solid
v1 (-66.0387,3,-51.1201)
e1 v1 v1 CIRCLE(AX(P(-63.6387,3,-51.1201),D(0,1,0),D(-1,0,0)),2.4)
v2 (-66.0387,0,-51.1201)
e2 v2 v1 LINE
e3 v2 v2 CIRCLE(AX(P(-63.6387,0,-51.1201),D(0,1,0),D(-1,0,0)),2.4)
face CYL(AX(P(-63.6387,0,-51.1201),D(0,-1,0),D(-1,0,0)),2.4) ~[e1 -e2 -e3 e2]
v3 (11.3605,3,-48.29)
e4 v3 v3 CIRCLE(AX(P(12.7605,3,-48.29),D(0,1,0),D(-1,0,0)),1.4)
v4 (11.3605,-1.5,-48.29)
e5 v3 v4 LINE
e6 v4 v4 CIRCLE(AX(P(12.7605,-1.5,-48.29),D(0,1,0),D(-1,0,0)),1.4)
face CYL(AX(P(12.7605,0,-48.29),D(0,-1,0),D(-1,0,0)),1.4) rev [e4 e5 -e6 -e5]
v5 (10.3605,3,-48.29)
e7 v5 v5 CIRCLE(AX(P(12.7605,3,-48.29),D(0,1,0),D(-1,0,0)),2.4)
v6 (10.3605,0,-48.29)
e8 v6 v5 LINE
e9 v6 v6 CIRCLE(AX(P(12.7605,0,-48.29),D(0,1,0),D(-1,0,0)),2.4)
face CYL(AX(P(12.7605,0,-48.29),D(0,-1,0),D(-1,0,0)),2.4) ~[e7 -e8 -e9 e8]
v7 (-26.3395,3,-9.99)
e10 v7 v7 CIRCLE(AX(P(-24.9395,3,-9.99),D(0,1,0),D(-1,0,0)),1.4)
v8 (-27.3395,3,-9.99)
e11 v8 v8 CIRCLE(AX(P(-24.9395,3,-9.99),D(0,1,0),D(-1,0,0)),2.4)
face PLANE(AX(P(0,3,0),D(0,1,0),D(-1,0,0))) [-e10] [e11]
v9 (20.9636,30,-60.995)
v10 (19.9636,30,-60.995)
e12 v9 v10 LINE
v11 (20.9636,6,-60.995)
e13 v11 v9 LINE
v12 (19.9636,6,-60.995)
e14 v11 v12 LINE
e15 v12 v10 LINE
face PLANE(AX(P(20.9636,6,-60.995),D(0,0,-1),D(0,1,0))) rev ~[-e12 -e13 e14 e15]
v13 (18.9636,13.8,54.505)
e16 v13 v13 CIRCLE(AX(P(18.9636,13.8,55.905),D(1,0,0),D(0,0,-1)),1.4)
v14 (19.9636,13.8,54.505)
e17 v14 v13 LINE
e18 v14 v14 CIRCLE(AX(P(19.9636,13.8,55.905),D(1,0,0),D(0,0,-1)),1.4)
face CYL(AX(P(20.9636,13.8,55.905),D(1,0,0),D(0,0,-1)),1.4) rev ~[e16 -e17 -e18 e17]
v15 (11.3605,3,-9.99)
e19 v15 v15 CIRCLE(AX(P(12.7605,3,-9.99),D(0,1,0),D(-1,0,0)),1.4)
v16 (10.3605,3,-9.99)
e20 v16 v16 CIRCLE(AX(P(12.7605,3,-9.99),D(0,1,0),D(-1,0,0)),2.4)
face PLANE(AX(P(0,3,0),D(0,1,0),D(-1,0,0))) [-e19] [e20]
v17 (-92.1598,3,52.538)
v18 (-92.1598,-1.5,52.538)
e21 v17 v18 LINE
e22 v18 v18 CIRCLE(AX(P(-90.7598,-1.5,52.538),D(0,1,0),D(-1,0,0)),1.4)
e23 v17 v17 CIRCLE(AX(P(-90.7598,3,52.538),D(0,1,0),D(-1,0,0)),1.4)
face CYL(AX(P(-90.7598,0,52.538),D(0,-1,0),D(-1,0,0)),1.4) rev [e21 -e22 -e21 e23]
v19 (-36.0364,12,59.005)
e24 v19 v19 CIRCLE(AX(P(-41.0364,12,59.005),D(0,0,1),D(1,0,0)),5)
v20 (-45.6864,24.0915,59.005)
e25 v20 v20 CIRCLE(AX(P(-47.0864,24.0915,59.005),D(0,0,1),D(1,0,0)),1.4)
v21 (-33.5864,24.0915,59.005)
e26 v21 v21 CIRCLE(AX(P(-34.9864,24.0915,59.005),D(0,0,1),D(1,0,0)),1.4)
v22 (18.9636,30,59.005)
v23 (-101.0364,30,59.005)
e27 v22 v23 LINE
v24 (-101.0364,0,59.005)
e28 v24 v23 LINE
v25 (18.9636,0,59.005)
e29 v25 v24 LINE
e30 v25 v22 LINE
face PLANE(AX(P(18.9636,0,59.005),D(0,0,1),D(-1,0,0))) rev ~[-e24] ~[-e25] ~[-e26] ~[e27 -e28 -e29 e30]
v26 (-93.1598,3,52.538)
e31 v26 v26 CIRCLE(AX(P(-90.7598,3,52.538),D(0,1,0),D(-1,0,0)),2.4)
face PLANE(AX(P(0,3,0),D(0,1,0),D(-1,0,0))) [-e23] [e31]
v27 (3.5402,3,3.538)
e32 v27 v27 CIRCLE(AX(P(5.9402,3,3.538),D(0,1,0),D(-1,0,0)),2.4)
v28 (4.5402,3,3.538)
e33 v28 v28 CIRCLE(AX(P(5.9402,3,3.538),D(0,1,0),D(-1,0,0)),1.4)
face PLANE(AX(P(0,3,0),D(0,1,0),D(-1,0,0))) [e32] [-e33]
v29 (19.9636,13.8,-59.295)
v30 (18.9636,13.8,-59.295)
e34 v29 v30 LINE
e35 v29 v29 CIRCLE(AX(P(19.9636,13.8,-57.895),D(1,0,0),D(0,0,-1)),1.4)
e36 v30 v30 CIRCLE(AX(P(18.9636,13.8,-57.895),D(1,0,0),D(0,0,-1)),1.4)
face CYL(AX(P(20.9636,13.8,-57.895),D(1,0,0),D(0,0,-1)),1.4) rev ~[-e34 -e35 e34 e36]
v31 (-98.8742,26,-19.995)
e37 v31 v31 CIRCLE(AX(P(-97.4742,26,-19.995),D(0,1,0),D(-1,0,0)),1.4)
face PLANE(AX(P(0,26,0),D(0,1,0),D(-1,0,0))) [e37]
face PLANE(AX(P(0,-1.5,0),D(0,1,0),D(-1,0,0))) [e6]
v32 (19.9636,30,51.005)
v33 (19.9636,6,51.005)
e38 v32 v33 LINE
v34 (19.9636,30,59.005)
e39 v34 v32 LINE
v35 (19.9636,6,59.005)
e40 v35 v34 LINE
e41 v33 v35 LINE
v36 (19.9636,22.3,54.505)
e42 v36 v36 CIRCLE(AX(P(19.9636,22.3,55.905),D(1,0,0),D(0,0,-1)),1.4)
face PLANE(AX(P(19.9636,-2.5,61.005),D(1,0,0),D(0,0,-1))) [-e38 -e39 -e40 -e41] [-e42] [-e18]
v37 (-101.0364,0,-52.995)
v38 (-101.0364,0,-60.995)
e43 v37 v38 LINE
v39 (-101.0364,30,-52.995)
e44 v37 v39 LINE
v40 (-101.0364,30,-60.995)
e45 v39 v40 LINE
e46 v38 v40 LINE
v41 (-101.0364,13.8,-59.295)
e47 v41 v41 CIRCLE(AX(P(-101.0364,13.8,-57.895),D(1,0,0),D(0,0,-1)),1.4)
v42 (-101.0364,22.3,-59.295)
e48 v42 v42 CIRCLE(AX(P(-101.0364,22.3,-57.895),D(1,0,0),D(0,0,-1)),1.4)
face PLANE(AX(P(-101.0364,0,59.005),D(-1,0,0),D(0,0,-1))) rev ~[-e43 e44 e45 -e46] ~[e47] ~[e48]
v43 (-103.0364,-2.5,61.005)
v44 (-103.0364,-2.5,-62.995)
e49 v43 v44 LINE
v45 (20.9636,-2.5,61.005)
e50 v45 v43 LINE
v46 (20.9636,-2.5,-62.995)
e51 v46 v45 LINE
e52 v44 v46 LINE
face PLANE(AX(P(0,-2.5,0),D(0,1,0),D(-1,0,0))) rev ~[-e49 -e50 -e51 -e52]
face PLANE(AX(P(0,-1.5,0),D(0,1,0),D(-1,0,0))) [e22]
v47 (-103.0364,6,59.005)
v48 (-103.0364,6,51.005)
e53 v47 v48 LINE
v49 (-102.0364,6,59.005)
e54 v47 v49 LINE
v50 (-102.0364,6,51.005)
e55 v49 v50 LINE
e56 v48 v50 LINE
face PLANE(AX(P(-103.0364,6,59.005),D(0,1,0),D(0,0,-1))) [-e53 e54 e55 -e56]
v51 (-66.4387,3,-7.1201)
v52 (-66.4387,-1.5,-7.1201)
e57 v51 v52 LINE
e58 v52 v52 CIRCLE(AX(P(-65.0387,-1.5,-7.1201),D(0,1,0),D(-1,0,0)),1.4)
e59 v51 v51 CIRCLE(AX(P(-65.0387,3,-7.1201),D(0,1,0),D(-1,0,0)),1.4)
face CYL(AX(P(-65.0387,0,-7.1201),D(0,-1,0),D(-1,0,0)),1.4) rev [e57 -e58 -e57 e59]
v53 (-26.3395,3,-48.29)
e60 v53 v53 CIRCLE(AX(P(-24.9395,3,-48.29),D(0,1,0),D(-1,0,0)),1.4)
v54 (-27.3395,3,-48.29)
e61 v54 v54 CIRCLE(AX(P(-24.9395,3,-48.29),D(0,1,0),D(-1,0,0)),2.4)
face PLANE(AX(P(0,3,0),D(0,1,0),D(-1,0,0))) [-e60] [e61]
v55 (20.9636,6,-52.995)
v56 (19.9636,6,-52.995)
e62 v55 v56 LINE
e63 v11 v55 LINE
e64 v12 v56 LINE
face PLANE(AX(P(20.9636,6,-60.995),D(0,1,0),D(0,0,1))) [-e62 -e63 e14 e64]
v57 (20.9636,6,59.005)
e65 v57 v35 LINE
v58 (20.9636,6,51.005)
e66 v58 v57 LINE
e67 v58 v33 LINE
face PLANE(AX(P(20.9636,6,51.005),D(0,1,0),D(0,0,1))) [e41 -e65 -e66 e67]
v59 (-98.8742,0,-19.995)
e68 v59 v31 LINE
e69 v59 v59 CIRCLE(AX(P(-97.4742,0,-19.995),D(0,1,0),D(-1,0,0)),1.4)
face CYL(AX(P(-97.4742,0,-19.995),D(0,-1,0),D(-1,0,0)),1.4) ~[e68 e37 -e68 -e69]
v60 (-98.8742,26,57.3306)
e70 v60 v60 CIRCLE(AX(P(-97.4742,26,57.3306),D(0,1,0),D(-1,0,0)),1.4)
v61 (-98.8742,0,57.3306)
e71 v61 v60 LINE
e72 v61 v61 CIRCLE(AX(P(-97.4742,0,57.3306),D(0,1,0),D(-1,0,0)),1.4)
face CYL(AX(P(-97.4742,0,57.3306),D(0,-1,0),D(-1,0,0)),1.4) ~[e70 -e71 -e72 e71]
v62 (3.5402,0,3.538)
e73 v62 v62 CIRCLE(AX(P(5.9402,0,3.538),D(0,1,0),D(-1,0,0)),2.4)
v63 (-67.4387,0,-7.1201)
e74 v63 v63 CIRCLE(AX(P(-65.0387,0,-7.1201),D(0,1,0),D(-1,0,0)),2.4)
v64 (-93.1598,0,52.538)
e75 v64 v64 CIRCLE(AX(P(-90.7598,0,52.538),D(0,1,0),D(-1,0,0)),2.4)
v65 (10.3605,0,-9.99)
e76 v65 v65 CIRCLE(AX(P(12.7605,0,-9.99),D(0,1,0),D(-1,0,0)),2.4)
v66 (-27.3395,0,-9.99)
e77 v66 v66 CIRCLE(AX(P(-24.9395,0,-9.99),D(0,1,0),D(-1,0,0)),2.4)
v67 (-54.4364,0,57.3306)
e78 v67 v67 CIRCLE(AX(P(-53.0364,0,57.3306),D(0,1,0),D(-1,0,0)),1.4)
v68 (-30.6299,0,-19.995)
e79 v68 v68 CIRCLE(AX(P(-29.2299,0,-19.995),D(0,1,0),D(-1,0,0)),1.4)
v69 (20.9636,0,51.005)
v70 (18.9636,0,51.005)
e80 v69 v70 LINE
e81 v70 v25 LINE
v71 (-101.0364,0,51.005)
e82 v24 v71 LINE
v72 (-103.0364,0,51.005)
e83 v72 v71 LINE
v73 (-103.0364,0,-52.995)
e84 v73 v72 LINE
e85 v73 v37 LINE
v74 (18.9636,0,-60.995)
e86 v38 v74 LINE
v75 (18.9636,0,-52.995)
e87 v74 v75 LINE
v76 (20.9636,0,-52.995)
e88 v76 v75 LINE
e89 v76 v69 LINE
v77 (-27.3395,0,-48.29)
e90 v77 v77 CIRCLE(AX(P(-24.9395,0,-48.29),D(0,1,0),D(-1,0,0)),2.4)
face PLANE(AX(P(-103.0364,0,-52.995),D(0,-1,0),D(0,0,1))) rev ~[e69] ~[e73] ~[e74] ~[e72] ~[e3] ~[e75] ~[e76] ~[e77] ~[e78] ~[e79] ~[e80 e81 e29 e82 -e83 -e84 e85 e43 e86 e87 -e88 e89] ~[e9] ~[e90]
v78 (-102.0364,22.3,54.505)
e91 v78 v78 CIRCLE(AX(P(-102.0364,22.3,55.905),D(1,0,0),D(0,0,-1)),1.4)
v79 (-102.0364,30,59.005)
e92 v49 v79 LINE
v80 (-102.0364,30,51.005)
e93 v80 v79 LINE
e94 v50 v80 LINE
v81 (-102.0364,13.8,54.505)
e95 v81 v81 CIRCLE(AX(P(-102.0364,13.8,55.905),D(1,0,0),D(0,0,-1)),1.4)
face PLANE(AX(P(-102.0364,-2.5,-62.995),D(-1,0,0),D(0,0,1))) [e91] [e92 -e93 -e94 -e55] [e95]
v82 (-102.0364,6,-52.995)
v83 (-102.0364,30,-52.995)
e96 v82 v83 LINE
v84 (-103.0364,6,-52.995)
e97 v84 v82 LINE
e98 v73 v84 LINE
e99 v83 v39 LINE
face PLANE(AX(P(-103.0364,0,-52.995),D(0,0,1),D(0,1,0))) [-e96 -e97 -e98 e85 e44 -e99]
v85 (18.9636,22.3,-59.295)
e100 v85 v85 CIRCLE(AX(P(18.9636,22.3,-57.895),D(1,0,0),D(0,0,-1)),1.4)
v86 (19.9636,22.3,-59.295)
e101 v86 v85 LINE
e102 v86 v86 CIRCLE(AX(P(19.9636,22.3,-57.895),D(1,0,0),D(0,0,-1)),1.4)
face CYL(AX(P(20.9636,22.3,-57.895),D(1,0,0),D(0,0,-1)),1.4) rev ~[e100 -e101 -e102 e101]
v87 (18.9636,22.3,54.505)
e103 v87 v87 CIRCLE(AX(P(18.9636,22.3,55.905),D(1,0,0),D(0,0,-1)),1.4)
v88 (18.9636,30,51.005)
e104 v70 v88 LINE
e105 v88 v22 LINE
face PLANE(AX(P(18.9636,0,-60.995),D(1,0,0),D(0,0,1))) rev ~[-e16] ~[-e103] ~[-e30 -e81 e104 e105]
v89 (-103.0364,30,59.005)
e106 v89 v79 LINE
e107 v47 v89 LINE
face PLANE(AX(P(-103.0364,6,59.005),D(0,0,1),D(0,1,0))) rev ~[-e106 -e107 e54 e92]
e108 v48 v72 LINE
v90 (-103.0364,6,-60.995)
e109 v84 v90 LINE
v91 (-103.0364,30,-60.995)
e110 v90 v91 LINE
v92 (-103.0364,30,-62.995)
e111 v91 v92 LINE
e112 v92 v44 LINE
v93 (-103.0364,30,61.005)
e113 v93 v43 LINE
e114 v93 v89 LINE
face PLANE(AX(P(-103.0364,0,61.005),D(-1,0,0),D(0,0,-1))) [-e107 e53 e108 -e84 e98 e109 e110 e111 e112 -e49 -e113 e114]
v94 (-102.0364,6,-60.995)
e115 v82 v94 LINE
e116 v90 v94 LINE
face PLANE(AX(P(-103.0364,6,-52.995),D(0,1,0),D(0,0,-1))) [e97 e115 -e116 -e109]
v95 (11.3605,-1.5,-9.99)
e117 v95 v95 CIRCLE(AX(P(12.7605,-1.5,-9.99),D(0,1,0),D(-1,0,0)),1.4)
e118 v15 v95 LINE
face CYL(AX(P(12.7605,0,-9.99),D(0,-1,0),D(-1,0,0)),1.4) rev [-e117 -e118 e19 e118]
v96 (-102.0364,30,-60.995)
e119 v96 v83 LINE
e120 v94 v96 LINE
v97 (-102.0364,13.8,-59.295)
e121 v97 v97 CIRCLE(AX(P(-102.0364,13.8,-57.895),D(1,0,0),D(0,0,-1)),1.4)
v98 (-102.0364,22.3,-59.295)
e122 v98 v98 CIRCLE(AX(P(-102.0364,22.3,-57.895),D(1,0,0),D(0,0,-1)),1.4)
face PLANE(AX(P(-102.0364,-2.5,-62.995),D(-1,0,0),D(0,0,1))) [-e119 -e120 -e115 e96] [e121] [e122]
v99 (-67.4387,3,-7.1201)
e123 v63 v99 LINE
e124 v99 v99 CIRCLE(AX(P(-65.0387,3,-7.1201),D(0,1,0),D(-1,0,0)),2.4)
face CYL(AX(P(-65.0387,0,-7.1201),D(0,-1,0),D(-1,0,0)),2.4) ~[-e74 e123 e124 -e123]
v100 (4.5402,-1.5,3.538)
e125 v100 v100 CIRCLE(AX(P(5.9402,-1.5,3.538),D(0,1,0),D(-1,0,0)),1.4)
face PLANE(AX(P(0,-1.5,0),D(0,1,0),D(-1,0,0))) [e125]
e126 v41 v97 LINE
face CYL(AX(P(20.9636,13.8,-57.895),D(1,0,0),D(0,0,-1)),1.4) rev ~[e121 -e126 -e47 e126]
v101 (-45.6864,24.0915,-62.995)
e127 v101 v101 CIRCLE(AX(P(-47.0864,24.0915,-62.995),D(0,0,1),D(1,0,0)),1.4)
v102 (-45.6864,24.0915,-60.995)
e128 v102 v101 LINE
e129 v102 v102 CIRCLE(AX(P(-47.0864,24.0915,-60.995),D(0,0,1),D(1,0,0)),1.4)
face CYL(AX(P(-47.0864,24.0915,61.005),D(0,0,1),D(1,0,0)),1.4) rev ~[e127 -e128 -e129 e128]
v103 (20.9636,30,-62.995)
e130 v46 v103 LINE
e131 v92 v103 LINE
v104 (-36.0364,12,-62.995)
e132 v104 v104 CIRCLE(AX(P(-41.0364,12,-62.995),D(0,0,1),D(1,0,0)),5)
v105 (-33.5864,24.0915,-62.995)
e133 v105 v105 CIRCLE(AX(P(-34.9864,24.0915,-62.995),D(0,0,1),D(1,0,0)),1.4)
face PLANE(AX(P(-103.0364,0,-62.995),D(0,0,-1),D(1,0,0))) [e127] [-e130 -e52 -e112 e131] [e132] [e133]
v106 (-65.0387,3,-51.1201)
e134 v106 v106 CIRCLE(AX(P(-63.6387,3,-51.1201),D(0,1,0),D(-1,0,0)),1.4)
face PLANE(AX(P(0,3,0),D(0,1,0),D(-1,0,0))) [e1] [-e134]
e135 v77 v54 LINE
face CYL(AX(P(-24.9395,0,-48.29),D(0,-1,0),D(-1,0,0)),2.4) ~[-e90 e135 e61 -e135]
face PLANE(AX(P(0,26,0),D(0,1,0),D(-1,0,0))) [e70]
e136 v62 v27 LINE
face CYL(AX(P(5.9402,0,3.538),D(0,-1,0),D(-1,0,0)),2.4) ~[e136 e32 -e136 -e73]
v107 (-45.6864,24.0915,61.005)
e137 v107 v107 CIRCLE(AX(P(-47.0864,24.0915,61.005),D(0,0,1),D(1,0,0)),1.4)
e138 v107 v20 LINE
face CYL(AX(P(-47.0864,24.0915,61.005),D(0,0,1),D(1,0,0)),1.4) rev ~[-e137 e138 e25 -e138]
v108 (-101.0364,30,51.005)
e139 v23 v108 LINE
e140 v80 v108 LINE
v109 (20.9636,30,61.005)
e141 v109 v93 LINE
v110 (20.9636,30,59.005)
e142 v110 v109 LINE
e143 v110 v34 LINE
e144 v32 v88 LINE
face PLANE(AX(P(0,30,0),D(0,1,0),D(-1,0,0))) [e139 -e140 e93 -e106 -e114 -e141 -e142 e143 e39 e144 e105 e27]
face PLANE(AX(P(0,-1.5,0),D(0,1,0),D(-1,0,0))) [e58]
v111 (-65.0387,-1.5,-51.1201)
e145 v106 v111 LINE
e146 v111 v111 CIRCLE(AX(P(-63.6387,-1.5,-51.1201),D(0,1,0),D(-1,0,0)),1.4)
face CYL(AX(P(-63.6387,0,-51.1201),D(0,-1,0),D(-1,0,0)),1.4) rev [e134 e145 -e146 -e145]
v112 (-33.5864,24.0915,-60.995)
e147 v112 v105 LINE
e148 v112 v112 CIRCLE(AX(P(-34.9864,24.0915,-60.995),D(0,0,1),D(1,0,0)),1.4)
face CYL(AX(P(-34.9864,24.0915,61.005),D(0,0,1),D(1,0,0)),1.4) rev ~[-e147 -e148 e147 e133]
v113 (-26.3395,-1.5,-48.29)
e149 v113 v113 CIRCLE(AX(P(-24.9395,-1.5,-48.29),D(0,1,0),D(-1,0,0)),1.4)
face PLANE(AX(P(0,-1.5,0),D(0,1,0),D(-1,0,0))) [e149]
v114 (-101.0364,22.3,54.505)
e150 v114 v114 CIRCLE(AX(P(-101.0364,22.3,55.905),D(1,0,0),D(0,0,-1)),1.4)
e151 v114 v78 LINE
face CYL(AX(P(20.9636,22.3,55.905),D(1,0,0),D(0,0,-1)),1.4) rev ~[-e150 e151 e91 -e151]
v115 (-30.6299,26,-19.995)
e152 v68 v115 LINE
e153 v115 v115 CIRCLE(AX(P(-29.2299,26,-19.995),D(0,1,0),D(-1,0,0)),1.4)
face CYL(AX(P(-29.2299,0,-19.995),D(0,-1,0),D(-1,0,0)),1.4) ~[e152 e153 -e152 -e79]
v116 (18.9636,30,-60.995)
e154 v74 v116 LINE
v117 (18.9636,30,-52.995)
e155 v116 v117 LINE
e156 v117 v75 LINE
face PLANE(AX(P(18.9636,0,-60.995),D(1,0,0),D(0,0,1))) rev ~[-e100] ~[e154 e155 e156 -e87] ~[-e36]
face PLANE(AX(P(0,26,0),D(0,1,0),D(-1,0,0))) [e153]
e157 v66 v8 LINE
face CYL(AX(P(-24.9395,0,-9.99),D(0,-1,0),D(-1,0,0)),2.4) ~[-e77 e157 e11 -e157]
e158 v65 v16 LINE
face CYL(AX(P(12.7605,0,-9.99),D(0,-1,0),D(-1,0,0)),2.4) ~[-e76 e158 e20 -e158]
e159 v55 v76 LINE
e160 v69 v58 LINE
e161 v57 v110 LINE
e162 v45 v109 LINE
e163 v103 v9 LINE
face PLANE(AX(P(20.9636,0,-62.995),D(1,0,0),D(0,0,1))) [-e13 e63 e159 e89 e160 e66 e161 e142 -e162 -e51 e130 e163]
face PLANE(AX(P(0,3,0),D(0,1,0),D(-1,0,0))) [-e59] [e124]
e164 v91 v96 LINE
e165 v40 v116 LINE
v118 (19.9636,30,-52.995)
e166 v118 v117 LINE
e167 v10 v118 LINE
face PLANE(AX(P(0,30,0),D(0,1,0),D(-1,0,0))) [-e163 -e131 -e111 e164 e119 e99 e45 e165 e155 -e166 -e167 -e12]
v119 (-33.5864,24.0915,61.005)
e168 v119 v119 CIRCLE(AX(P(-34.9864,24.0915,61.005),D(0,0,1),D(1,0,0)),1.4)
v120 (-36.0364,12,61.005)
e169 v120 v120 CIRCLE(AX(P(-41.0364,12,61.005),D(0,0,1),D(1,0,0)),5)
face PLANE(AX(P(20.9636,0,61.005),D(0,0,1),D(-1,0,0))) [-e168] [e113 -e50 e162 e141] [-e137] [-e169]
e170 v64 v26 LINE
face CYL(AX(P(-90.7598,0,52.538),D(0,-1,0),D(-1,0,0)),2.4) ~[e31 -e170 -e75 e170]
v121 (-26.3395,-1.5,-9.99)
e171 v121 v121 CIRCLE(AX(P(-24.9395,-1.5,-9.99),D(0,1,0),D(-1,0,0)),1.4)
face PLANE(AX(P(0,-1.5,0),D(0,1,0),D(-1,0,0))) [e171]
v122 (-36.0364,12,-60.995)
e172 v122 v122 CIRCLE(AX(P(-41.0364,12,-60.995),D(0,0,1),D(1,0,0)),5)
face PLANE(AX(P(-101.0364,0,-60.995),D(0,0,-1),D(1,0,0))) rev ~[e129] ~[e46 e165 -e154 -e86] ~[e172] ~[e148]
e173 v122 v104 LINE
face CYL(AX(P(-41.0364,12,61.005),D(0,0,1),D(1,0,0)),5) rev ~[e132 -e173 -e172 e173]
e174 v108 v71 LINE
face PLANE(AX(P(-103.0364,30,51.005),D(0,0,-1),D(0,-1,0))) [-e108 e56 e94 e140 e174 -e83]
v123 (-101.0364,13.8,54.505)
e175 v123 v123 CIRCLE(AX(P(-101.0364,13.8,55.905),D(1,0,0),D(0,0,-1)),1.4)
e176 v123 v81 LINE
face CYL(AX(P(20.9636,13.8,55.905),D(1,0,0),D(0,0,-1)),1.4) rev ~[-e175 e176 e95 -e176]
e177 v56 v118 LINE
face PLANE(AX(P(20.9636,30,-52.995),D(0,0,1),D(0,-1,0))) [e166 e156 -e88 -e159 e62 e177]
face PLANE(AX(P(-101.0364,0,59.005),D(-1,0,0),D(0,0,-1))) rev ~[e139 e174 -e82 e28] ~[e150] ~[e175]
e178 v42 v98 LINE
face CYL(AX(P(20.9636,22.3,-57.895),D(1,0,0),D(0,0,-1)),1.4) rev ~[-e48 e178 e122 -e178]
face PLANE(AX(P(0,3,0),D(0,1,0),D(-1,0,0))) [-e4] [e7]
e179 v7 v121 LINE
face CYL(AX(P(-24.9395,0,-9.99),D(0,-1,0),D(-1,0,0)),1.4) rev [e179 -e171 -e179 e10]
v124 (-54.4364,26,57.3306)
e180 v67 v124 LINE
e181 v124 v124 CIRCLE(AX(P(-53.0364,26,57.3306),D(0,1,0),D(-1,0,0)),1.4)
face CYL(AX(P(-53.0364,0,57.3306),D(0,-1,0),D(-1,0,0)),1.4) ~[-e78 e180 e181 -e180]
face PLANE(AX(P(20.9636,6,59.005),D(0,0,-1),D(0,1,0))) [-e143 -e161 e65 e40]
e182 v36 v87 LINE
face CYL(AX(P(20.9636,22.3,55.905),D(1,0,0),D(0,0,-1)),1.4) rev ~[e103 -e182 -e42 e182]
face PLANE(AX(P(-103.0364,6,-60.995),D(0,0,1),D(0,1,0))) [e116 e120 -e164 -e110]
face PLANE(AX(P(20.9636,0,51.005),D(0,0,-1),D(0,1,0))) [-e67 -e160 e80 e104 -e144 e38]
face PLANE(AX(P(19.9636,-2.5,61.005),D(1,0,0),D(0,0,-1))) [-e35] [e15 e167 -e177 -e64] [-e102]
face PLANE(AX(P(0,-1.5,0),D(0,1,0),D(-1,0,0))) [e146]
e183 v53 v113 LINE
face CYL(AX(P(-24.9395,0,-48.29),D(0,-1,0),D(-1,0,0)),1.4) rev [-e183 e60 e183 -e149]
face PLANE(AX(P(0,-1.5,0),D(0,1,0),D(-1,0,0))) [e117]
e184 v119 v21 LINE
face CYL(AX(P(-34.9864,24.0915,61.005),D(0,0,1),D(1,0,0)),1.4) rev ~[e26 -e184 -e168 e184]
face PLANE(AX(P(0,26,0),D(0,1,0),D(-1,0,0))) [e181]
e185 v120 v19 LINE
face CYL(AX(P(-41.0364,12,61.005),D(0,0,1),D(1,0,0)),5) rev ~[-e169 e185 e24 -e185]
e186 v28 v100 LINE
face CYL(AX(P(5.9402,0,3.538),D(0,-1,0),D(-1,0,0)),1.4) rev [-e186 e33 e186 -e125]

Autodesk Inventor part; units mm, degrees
ref_plane "YZ Plane" through (0, 0, 0) normal (1, 0, 0) x (0, 1, 0)
ref_plane "XZ Plane" through (0, 0, 0) normal (0, 1, 0) x (-1, 0, 0)
ref_plane "XY Plane" through (0, 0, 0) normal (0, 0, 1) x (1, 0, 0)
sketch "Sketch1" plane through (0, 0, 0) normal (0, 1, 0) x (-1, 0, 0)
  line L0 (101.0364, -60.995) -> (-18.9636, -60.995)
  line L1 (-18.9636, -60.995) -> (-18.9636, 59.005)
  line L2 (-18.9636, 59.005) -> (101.0364, 59.005)
  line L3 (101.0364, 59.005) -> (101.0364, -60.995)
  line L4 (93.1598, 54.938) -> (-8.3402, 54.938) construction
  line L5 (-8.3402, 54.938) -> (-8.3402, 1.138) construction
  line L6 (-8.3402, 1.138) -> (93.1598, 1.138) construction
  line L7 (93.1598, 1.138) -> (93.1598, 54.938) construction
  line L8 (92.9387, -1.5201) -> (30.3387, -1.5201) construction
  line L9 (30.3387, -1.5201) -> (30.3387, -58.6201) construction
  line L10 (30.3387, -58.6201) -> (92.9387, -58.6201) construction
  line L11 (92.9387, -58.6201) -> (92.9387, -1.5201) construction
  line L12 (27.7395, -7.49) -> (-15.5605, -7.49) construction
  line L13 (-15.5605, -7.49) -> (-15.5605, -50.79) construction
  line L14 (-15.5605, -50.79) -> (27.7395, -50.79) construction
  line L15 (27.7395, -50.79) -> (27.7395, -7.49) construction
  line L16 (65.0387, -49.7201) -> (62.2387, -49.7201) construction
  line L17 (62.2387, -49.7201) -> (62.2387, -52.5201) construction
  line L18 (62.2387, -52.5201) -> (65.0387, -52.5201) construction
  line L19 (65.0387, -52.5201) -> (65.0387, -49.7201) construction
  circle A0 centre (65.0387, -7.1201) radius 1.4
  circle A1 centre (63.6387, -51.1201) radius 1.4
  line L20 (92.1598, 53.938) -> (89.3598, 53.938) construction
  line L21 (89.3598, 53.938) -> (89.3598, 51.138) construction
  line L22 (89.3598, 51.138) -> (92.1598, 51.138) construction
  line L23 (92.1598, 51.138) -> (92.1598, 53.938) construction
  line L24 (-4.5402, 4.938) -> (-7.3402, 4.938) construction
  line L25 (-7.3402, 4.938) -> (-7.3402, 2.138) construction
  line L26 (-7.3402, 2.138) -> (-4.5402, 2.138) construction
  line L27 (-4.5402, 2.138) -> (-4.5402, 4.938) construction
  circle A2 centre (-5.9402, 3.538) radius 1.4
  circle A3 centre (90.7598, 52.538) radius 1.4
  line L28 (26.3395, -8.59) -> (23.5395, -8.59) construction
  line L29 (23.5395, -8.59) -> (23.5395, -11.39) construction
  line L30 (23.5395, -11.39) -> (26.3395, -11.39) construction
  line L31 (26.3395, -11.39) -> (26.3395, -8.59) construction
  line L32 (-11.3605, -46.89) -> (-14.1605, -46.89) construction
  line L33 (-14.1605, -46.89) -> (-14.1605, -49.69) construction
  line L34 (-14.1605, -49.69) -> (-11.3605, -49.69) construction
  line L35 (-11.3605, -49.69) -> (-11.3605, -46.89) construction
  line L36 (-11.3605, -8.59) -> (-14.1605, -8.59) construction
  line L37 (-14.1605, -8.59) -> (-14.1605, -11.39) construction
  line L38 (-14.1605, -11.39) -> (-11.3605, -11.39) construction
  line L39 (-11.3605, -11.39) -> (-11.3605, -8.59) construction
  line L40 (26.3395, -46.89) -> (23.5395, -46.89) construction
  line L41 (23.5395, -46.89) -> (23.5395, -49.69) construction
  line L42 (23.5395, -49.69) -> (26.3395, -49.69) construction
  line L43 (26.3395, -49.69) -> (26.3395, -46.89) construction
  circle A4 centre (24.9395, -9.99) radius 1.4
  circle A5 centre (24.9395, -48.29) radius 1.4
  circle A6 centre (-12.7605, -48.29) radius 1.4
  circle A7 centre (-12.7605, -9.99) radius 1.4
  circle A8 centre (24.9395, -9.99) radius 2.4
  circle A9 centre (24.9395, -48.29) radius 2.4
  circle A10 centre (-12.7605, -48.29) radius 2.4
  circle A11 centre (-12.7605, -9.99) radius 2.4
  circle A12 centre (63.6387, -51.1201) radius 2.4
  circle A13 centre (65.0387, -7.1201) radius 2.4
  circle A14 centre (-5.9402, 3.538) radius 2.4
  circle A15 centre (90.7598, 52.538) radius 2.4
  line L44 (-20.9636, 61.005) -> (103.0364, 61.005)
  line L45 (103.0364, 61.005) -> (103.0364, -62.995)
  line L46 (103.0364, -62.995) -> (-20.9636, -62.995)
  line L47 (-20.9636, -62.995) -> (-20.9636, 61.005)
  circle A16 centre (97.4742, -19.995) radius 1.4
  circle A17 centre (97.4742, 57.3306) radius 1.4
  circle A18 centre (53.0364, 57.3306) radius 1.4
  circle A19 centre (29.2299, -19.995) radius 1.4
  circle A20 centre (29.0364, 57.3306) radius 1.4
  dimension "d0" = 120
  dimension "d1" = 120
  dimension "d8" = 101.5
  dimension "d9" = 53.8
  dimension "d10" = 62.6
  dimension "d11" = 57.1
  dimension "d12" = 43.3
  dimension "d13" = 43.3
  dimension "d24" = 4.067
  dimension "d25" = 10.6234
  dimension "d27" = 10.205
  dimension "d28" = 3.403
  dimension "d29" = 2.3749
  dimension "d30" = 8.0977
  dimension "d39" = 2.8
  dimension "d40" = 2.8
  dimension "d41" = 6.1
  dimension "d42" = 2.8
  dimension "d43" = 2.8
  dimension "d44" = 2.8
  dimension "d45" = 2.8
  dimension "d46" = 1
  dimension "d47" = 1
  dimension "d48" = 1
  dimension "d49" = 1
  dimension "d50" = 2.8
  dimension "d51" = 2.8
  dimension "d52" = 2.8
  dimension "d53" = 2.8
  dimension "d54" = 2.8
  dimension "d55" = 2.8
  dimension "d56" = 2.8
  dimension "d57" = 2.8
  dimension "d58" = 1.4
  dimension "d59" = 1.1
  dimension "d60" = 1.4
  dimension "d61" = 1.1
  dimension "d62" = 1.1
  dimension "d63" = 1.4
  dimension "d64" = 1.1
  dimension "d65" = 1.4
  dimension "d66" = 4.8
  dimension "d67" = 4.8
  dimension "d68" = 4.8
  dimension "d69" = 4.8
  dimension "d70" = 4.8
  dimension "d71" = 4.8
  dimension "d72" = 4.8
  dimension "d73" = 4.8
  dimension "d74" = 124
  dimension "d75" = 124
  dimension "d76" = 2
  dimension "d77" = 2
  dimension "d144" = 44
  dimension "d145" = 2.8
  dimension "d146" = 41
  dimension "d148" = 2.8
  dimension "d149" = 2.8
  dimension "d150" = 50
  dimension "d154" = 2.8
  dimension "d155" = 50
extrude "Extrusion1" add sketch "Sketch1" against normal blind 2.5 contours L0 L1 L2 L3 | A0 | A1 | A2 | A3 | A4 | A5 | A6 | A7 | A8 | A9 | A10 | A11 | A12 | A13 | A14 | A15 | L44 L45 L46 L47 | A16 | A17 | A18 | A19 | A20
extrude "Extrusion2" add sketch "Sketch1" along normal blind 30 contours L44 L45 L46 L47
extrude "Extrusion3" add sketch "Sketch1" along normal blind 3 contours A15
extrude "Extrusion4" add sketch "Sketch1" along normal blind 3 contours A13
extrude "Extrusion5" add sketch "Sketch1" along normal blind 3 contours A12
extrude "Extrusion6" add sketch "Sketch1" along normal blind 3 contours A9
extrude "Extrusion7" add sketch "Sketch1" along normal blind 3 contours A8
extrude "Extrusion8" add sketch "Sketch1" along normal blind 3 contours A14
extrude "Extrusion9" add sketch "Sketch1" along normal blind 3 contours A11
extrude "Extrusion10" add sketch "Sketch1" along normal blind 3 contours A10
sketch "Sketch3" plane through (-103.0364, -2.5, -62.995) normal (-1, 0, 0) x (0, 0, 1)
  line L0 (122, 32.5) -> (2, 32.5) projected
  line L1 (2, 2.5) -> (122, 2.5) projected
  line L2 (10, 32.5) -> (114, 32.5)
  line L3 (114, 32.5) -> (114, 2.5)
  line L4 (114, 2.5) -> (10, 2.5)
  line L5 (10, 2.5) -> (10, 32.5)
  line L6 (0, 0) -> (0, 32.5) projected
  point P0 (62.995, 2.5)
  dimension "d98" = 104
  dimension "d99" = 10
extrude "Extrusion11" cut sketch "Sketch3" against normal blind 3
sketch "Sketch4" plane through (20.9636, -2.5, 61.005) normal (1, 0, 0) x (0, 0, -1)
  line L0 (122, 32.5) -> (2, 32.5) projected
  line L1 (10, 32.5) -> (114, 32.5)
  line L2 (114, 32.5) -> (114, 2.5)
  line L3 (114, 2.5) -> (10, 2.5)
  line L4 (10, 2.5) -> (10, 32.5)
  line L5 (0, 0) -> (0, 32.5) projected
  point P0 (61.005, 2.5)
  dimension "d102" = 104
  dimension "d103" = 10
extrude "Extrusion12" cut sketch "Sketch4" against normal blind 3
sketch "Sketch5" plane through (20.9636, -2.5, 61.005) normal (1, 0, 0) x (0, 0, -1)
  line L0 (3.7, 25.8817) -> (6.5, 25.8817) construction
  line L1 (6.5, 25.8817) -> (6.5, 23.0817) construction
  line L2 (6.5, 23.0817) -> (3.7, 23.0817) construction
  line L3 (3.7, 23.0817) -> (3.7, 25.8817) construction
  line L4 (3.7, 17.6669) -> (6.5, 17.6669) construction
  line L5 (6.5, 17.6669) -> (6.5, 14.8669) construction
  line L6 (6.5, 14.8669) -> (3.7, 14.8669) construction
  line L7 (3.7, 14.8669) -> (3.7, 17.6669) construction
  line L8 (10, 2.5) -> (10, 32.5) projected
  circle A0 centre (5.1, 24.8) radius 1.4
  circle A1 centre (5.1, 16.3) radius 1.4
  line L9 (117.5, 24.7669) -> (120.3, 24.7669) construction
  line L10 (0, 32.5) -> (10, 32.5) projected
  line L11 (117.5, 16.3) -> (120.3, 16.3) construction
  line L12 (114, 32.5) -> (114, 2.5) projected
  circle A2 centre (118.9, 24.8) radius 1.4
  circle A3 centre (118.9, 16.3) radius 1.4
  line L13 (114, 32.5) -> (124, 32.5) projected
  point P0 (61.005, 2.5)
  dimension "d106" = 2.8
  dimension "d107" = 2.8
  dimension "d108" = 2.8
  dimension "d109" = 2.8
  dimension "d110" = 3.5
  dimension "d111" = 3.5
  dimension "d112" = 8.5
  dimension "d115" = 7.7
  dimension "d120" = 7.7
  dimension "d121" = 8.5
  dimension "d122" = 2.8
  dimension "d123" = 2.8
  dimension "d124" = 4.9
  dimension "d125" = 4.9
  dimension "d126" = 4.9
  dimension "d127" = 4.9
extrude "Extrusion13" cut sketch "Sketch5" against normal blind 130
sketch "Sketch6" plane through (-103.0364, -2.5, 61.005) normal (0, 0, 1) x (1, 0, 0)
  line L0 (57, 19.5) -> (67, 19.5) construction
  line L1 (67, 19.5) -> (67, 9.5) construction
  line L2 (67, 9.5) -> (57, 9.5) construction
  line L3 (57, 9.5) -> (57, 19.5) construction
  line L4 (0, 32.5) -> (124, 32.5) projected
  line L5 (54.55, 28) -> (57.35, 28) construction
  line L6 (57.35, 28) -> (57.35, 25.2) construction
  line L7 (57.35, 25.2) -> (54.55, 25.2) construction
  line L8 (54.55, 25.2) -> (54.55, 28) construction
  line L9 (66.65, 25.1915) -> (69.45, 25.1915) construction
  line L10 (69.45, 25.1915) -> (69.45, 27.9915) construction
  line L11 (69.45, 27.9915) -> (66.65, 27.9915) construction
  line L12 (66.65, 27.9915) -> (66.65, 25.1915) construction
  line L13 (124, 0) -> (124, 32.5) projected
  line L14 (0, 0) -> (0, 32.5) projected
  circle A0 centre (55.95, 26.5915) radius 1.4
  circle A1 centre (68.05, 26.5915) radius 1.4
  circle A2 centre (62, 14.5) radius 5
  point P0 (103.0364, 2.5)
  dimension "d130" = 10
  dimension "d131" = 10
  dimension "d132" = 13
  dimension "d133" = 2.8
  dimension "d134" = 2.8
  dimension "d135" = 2.8
  dimension "d136" = 2.8
  dimension "d137" = 9.3
  dimension "d138" = 5.7
  dimension "d139" = 54.55
  dimension "d140" = 54.55
  dimension "d141" = 57
extrude "Extrusion14" cut sketch "Sketch6" against normal blind 130
extrude "Extrusion15" add sketch "Sketch1" along normal blind 26 contours A16 | A17 | A18 | A19
sketch "Sketch7" plane through (20.9636, -2.5, 61.005) normal (1, 0, 0) x (0, 0, -1)
  line L0 (2, 2.5) -> (2, 32.5) projected
  line L1 (10, 32.5) -> (10, 2.5) projected
  line L2 (2, 32.5) -> (10, 32.5)
  line L3 (10, 32.5) -> (10, 8.5)
  line L4 (10, 8.5) -> (2, 8.5)
  line L5 (2, 8.5) -> (2, 32.5)
  line L6 (122, 32.5) -> (114, 32.5) projected
  line L7 (122, 2.5) -> (122, 32.5) projected
  line L8 (114, 32.5) -> (122, 32.5)
  line L9 (122, 32.5) -> (122, 8.5)
  line L10 (122, 8.5) -> (114, 8.5)
  line L11 (114, 8.5) -> (114, 32.5)
  point P0 (61.005, 2.5)
  dimension "d156" = 24
  dimension "d157" = 24
extrude "Extrusion16" cut sketch "Sketch7" against normal blind 1
sketch "Sketch8" plane through (-103.0364, -2.5, -62.995) normal (-1, 0, 0) x (0, 0, 1)
  line L0 (2, 2.5) -> (2, 32.5) projected
  line L1 (10, 2.5) -> (10, 32.5) projected
  line L2 (2, 32.5) -> (10, 32.5)
  line L3 (10, 32.5) -> (10, 8.5)
  line L4 (10, 8.5) -> (2, 8.5)
  line L5 (2, 8.5) -> (2, 32.5)
  line L6 (114, 32.5) -> (124, 32.5) projected
  line L7 (122, 2.5) -> (122, 32.5) projected
  line L8 (114, 32.5) -> (122, 32.5)
  line L9 (122, 32.5) -> (122, 8.5)
  line L10 (122, 8.5) -> (114, 8.5)
  line L11 (114, 8.5) -> (114, 32.5)
  point P0 (62.995, 2.5)
  dimension "d160" = 24
  dimension "d161" = 24
extrude "Extrusion17" cut sketch "Sketch8" against normal blind 1
extrude "Extrusion18" cut sketch "Sketch1" against normal blind 1.5 contours A0 | A1 | A2 | A3 | A4 | A5 | A6 | A7
properties part number "Lower_Housing" material "Iron, Cast"
